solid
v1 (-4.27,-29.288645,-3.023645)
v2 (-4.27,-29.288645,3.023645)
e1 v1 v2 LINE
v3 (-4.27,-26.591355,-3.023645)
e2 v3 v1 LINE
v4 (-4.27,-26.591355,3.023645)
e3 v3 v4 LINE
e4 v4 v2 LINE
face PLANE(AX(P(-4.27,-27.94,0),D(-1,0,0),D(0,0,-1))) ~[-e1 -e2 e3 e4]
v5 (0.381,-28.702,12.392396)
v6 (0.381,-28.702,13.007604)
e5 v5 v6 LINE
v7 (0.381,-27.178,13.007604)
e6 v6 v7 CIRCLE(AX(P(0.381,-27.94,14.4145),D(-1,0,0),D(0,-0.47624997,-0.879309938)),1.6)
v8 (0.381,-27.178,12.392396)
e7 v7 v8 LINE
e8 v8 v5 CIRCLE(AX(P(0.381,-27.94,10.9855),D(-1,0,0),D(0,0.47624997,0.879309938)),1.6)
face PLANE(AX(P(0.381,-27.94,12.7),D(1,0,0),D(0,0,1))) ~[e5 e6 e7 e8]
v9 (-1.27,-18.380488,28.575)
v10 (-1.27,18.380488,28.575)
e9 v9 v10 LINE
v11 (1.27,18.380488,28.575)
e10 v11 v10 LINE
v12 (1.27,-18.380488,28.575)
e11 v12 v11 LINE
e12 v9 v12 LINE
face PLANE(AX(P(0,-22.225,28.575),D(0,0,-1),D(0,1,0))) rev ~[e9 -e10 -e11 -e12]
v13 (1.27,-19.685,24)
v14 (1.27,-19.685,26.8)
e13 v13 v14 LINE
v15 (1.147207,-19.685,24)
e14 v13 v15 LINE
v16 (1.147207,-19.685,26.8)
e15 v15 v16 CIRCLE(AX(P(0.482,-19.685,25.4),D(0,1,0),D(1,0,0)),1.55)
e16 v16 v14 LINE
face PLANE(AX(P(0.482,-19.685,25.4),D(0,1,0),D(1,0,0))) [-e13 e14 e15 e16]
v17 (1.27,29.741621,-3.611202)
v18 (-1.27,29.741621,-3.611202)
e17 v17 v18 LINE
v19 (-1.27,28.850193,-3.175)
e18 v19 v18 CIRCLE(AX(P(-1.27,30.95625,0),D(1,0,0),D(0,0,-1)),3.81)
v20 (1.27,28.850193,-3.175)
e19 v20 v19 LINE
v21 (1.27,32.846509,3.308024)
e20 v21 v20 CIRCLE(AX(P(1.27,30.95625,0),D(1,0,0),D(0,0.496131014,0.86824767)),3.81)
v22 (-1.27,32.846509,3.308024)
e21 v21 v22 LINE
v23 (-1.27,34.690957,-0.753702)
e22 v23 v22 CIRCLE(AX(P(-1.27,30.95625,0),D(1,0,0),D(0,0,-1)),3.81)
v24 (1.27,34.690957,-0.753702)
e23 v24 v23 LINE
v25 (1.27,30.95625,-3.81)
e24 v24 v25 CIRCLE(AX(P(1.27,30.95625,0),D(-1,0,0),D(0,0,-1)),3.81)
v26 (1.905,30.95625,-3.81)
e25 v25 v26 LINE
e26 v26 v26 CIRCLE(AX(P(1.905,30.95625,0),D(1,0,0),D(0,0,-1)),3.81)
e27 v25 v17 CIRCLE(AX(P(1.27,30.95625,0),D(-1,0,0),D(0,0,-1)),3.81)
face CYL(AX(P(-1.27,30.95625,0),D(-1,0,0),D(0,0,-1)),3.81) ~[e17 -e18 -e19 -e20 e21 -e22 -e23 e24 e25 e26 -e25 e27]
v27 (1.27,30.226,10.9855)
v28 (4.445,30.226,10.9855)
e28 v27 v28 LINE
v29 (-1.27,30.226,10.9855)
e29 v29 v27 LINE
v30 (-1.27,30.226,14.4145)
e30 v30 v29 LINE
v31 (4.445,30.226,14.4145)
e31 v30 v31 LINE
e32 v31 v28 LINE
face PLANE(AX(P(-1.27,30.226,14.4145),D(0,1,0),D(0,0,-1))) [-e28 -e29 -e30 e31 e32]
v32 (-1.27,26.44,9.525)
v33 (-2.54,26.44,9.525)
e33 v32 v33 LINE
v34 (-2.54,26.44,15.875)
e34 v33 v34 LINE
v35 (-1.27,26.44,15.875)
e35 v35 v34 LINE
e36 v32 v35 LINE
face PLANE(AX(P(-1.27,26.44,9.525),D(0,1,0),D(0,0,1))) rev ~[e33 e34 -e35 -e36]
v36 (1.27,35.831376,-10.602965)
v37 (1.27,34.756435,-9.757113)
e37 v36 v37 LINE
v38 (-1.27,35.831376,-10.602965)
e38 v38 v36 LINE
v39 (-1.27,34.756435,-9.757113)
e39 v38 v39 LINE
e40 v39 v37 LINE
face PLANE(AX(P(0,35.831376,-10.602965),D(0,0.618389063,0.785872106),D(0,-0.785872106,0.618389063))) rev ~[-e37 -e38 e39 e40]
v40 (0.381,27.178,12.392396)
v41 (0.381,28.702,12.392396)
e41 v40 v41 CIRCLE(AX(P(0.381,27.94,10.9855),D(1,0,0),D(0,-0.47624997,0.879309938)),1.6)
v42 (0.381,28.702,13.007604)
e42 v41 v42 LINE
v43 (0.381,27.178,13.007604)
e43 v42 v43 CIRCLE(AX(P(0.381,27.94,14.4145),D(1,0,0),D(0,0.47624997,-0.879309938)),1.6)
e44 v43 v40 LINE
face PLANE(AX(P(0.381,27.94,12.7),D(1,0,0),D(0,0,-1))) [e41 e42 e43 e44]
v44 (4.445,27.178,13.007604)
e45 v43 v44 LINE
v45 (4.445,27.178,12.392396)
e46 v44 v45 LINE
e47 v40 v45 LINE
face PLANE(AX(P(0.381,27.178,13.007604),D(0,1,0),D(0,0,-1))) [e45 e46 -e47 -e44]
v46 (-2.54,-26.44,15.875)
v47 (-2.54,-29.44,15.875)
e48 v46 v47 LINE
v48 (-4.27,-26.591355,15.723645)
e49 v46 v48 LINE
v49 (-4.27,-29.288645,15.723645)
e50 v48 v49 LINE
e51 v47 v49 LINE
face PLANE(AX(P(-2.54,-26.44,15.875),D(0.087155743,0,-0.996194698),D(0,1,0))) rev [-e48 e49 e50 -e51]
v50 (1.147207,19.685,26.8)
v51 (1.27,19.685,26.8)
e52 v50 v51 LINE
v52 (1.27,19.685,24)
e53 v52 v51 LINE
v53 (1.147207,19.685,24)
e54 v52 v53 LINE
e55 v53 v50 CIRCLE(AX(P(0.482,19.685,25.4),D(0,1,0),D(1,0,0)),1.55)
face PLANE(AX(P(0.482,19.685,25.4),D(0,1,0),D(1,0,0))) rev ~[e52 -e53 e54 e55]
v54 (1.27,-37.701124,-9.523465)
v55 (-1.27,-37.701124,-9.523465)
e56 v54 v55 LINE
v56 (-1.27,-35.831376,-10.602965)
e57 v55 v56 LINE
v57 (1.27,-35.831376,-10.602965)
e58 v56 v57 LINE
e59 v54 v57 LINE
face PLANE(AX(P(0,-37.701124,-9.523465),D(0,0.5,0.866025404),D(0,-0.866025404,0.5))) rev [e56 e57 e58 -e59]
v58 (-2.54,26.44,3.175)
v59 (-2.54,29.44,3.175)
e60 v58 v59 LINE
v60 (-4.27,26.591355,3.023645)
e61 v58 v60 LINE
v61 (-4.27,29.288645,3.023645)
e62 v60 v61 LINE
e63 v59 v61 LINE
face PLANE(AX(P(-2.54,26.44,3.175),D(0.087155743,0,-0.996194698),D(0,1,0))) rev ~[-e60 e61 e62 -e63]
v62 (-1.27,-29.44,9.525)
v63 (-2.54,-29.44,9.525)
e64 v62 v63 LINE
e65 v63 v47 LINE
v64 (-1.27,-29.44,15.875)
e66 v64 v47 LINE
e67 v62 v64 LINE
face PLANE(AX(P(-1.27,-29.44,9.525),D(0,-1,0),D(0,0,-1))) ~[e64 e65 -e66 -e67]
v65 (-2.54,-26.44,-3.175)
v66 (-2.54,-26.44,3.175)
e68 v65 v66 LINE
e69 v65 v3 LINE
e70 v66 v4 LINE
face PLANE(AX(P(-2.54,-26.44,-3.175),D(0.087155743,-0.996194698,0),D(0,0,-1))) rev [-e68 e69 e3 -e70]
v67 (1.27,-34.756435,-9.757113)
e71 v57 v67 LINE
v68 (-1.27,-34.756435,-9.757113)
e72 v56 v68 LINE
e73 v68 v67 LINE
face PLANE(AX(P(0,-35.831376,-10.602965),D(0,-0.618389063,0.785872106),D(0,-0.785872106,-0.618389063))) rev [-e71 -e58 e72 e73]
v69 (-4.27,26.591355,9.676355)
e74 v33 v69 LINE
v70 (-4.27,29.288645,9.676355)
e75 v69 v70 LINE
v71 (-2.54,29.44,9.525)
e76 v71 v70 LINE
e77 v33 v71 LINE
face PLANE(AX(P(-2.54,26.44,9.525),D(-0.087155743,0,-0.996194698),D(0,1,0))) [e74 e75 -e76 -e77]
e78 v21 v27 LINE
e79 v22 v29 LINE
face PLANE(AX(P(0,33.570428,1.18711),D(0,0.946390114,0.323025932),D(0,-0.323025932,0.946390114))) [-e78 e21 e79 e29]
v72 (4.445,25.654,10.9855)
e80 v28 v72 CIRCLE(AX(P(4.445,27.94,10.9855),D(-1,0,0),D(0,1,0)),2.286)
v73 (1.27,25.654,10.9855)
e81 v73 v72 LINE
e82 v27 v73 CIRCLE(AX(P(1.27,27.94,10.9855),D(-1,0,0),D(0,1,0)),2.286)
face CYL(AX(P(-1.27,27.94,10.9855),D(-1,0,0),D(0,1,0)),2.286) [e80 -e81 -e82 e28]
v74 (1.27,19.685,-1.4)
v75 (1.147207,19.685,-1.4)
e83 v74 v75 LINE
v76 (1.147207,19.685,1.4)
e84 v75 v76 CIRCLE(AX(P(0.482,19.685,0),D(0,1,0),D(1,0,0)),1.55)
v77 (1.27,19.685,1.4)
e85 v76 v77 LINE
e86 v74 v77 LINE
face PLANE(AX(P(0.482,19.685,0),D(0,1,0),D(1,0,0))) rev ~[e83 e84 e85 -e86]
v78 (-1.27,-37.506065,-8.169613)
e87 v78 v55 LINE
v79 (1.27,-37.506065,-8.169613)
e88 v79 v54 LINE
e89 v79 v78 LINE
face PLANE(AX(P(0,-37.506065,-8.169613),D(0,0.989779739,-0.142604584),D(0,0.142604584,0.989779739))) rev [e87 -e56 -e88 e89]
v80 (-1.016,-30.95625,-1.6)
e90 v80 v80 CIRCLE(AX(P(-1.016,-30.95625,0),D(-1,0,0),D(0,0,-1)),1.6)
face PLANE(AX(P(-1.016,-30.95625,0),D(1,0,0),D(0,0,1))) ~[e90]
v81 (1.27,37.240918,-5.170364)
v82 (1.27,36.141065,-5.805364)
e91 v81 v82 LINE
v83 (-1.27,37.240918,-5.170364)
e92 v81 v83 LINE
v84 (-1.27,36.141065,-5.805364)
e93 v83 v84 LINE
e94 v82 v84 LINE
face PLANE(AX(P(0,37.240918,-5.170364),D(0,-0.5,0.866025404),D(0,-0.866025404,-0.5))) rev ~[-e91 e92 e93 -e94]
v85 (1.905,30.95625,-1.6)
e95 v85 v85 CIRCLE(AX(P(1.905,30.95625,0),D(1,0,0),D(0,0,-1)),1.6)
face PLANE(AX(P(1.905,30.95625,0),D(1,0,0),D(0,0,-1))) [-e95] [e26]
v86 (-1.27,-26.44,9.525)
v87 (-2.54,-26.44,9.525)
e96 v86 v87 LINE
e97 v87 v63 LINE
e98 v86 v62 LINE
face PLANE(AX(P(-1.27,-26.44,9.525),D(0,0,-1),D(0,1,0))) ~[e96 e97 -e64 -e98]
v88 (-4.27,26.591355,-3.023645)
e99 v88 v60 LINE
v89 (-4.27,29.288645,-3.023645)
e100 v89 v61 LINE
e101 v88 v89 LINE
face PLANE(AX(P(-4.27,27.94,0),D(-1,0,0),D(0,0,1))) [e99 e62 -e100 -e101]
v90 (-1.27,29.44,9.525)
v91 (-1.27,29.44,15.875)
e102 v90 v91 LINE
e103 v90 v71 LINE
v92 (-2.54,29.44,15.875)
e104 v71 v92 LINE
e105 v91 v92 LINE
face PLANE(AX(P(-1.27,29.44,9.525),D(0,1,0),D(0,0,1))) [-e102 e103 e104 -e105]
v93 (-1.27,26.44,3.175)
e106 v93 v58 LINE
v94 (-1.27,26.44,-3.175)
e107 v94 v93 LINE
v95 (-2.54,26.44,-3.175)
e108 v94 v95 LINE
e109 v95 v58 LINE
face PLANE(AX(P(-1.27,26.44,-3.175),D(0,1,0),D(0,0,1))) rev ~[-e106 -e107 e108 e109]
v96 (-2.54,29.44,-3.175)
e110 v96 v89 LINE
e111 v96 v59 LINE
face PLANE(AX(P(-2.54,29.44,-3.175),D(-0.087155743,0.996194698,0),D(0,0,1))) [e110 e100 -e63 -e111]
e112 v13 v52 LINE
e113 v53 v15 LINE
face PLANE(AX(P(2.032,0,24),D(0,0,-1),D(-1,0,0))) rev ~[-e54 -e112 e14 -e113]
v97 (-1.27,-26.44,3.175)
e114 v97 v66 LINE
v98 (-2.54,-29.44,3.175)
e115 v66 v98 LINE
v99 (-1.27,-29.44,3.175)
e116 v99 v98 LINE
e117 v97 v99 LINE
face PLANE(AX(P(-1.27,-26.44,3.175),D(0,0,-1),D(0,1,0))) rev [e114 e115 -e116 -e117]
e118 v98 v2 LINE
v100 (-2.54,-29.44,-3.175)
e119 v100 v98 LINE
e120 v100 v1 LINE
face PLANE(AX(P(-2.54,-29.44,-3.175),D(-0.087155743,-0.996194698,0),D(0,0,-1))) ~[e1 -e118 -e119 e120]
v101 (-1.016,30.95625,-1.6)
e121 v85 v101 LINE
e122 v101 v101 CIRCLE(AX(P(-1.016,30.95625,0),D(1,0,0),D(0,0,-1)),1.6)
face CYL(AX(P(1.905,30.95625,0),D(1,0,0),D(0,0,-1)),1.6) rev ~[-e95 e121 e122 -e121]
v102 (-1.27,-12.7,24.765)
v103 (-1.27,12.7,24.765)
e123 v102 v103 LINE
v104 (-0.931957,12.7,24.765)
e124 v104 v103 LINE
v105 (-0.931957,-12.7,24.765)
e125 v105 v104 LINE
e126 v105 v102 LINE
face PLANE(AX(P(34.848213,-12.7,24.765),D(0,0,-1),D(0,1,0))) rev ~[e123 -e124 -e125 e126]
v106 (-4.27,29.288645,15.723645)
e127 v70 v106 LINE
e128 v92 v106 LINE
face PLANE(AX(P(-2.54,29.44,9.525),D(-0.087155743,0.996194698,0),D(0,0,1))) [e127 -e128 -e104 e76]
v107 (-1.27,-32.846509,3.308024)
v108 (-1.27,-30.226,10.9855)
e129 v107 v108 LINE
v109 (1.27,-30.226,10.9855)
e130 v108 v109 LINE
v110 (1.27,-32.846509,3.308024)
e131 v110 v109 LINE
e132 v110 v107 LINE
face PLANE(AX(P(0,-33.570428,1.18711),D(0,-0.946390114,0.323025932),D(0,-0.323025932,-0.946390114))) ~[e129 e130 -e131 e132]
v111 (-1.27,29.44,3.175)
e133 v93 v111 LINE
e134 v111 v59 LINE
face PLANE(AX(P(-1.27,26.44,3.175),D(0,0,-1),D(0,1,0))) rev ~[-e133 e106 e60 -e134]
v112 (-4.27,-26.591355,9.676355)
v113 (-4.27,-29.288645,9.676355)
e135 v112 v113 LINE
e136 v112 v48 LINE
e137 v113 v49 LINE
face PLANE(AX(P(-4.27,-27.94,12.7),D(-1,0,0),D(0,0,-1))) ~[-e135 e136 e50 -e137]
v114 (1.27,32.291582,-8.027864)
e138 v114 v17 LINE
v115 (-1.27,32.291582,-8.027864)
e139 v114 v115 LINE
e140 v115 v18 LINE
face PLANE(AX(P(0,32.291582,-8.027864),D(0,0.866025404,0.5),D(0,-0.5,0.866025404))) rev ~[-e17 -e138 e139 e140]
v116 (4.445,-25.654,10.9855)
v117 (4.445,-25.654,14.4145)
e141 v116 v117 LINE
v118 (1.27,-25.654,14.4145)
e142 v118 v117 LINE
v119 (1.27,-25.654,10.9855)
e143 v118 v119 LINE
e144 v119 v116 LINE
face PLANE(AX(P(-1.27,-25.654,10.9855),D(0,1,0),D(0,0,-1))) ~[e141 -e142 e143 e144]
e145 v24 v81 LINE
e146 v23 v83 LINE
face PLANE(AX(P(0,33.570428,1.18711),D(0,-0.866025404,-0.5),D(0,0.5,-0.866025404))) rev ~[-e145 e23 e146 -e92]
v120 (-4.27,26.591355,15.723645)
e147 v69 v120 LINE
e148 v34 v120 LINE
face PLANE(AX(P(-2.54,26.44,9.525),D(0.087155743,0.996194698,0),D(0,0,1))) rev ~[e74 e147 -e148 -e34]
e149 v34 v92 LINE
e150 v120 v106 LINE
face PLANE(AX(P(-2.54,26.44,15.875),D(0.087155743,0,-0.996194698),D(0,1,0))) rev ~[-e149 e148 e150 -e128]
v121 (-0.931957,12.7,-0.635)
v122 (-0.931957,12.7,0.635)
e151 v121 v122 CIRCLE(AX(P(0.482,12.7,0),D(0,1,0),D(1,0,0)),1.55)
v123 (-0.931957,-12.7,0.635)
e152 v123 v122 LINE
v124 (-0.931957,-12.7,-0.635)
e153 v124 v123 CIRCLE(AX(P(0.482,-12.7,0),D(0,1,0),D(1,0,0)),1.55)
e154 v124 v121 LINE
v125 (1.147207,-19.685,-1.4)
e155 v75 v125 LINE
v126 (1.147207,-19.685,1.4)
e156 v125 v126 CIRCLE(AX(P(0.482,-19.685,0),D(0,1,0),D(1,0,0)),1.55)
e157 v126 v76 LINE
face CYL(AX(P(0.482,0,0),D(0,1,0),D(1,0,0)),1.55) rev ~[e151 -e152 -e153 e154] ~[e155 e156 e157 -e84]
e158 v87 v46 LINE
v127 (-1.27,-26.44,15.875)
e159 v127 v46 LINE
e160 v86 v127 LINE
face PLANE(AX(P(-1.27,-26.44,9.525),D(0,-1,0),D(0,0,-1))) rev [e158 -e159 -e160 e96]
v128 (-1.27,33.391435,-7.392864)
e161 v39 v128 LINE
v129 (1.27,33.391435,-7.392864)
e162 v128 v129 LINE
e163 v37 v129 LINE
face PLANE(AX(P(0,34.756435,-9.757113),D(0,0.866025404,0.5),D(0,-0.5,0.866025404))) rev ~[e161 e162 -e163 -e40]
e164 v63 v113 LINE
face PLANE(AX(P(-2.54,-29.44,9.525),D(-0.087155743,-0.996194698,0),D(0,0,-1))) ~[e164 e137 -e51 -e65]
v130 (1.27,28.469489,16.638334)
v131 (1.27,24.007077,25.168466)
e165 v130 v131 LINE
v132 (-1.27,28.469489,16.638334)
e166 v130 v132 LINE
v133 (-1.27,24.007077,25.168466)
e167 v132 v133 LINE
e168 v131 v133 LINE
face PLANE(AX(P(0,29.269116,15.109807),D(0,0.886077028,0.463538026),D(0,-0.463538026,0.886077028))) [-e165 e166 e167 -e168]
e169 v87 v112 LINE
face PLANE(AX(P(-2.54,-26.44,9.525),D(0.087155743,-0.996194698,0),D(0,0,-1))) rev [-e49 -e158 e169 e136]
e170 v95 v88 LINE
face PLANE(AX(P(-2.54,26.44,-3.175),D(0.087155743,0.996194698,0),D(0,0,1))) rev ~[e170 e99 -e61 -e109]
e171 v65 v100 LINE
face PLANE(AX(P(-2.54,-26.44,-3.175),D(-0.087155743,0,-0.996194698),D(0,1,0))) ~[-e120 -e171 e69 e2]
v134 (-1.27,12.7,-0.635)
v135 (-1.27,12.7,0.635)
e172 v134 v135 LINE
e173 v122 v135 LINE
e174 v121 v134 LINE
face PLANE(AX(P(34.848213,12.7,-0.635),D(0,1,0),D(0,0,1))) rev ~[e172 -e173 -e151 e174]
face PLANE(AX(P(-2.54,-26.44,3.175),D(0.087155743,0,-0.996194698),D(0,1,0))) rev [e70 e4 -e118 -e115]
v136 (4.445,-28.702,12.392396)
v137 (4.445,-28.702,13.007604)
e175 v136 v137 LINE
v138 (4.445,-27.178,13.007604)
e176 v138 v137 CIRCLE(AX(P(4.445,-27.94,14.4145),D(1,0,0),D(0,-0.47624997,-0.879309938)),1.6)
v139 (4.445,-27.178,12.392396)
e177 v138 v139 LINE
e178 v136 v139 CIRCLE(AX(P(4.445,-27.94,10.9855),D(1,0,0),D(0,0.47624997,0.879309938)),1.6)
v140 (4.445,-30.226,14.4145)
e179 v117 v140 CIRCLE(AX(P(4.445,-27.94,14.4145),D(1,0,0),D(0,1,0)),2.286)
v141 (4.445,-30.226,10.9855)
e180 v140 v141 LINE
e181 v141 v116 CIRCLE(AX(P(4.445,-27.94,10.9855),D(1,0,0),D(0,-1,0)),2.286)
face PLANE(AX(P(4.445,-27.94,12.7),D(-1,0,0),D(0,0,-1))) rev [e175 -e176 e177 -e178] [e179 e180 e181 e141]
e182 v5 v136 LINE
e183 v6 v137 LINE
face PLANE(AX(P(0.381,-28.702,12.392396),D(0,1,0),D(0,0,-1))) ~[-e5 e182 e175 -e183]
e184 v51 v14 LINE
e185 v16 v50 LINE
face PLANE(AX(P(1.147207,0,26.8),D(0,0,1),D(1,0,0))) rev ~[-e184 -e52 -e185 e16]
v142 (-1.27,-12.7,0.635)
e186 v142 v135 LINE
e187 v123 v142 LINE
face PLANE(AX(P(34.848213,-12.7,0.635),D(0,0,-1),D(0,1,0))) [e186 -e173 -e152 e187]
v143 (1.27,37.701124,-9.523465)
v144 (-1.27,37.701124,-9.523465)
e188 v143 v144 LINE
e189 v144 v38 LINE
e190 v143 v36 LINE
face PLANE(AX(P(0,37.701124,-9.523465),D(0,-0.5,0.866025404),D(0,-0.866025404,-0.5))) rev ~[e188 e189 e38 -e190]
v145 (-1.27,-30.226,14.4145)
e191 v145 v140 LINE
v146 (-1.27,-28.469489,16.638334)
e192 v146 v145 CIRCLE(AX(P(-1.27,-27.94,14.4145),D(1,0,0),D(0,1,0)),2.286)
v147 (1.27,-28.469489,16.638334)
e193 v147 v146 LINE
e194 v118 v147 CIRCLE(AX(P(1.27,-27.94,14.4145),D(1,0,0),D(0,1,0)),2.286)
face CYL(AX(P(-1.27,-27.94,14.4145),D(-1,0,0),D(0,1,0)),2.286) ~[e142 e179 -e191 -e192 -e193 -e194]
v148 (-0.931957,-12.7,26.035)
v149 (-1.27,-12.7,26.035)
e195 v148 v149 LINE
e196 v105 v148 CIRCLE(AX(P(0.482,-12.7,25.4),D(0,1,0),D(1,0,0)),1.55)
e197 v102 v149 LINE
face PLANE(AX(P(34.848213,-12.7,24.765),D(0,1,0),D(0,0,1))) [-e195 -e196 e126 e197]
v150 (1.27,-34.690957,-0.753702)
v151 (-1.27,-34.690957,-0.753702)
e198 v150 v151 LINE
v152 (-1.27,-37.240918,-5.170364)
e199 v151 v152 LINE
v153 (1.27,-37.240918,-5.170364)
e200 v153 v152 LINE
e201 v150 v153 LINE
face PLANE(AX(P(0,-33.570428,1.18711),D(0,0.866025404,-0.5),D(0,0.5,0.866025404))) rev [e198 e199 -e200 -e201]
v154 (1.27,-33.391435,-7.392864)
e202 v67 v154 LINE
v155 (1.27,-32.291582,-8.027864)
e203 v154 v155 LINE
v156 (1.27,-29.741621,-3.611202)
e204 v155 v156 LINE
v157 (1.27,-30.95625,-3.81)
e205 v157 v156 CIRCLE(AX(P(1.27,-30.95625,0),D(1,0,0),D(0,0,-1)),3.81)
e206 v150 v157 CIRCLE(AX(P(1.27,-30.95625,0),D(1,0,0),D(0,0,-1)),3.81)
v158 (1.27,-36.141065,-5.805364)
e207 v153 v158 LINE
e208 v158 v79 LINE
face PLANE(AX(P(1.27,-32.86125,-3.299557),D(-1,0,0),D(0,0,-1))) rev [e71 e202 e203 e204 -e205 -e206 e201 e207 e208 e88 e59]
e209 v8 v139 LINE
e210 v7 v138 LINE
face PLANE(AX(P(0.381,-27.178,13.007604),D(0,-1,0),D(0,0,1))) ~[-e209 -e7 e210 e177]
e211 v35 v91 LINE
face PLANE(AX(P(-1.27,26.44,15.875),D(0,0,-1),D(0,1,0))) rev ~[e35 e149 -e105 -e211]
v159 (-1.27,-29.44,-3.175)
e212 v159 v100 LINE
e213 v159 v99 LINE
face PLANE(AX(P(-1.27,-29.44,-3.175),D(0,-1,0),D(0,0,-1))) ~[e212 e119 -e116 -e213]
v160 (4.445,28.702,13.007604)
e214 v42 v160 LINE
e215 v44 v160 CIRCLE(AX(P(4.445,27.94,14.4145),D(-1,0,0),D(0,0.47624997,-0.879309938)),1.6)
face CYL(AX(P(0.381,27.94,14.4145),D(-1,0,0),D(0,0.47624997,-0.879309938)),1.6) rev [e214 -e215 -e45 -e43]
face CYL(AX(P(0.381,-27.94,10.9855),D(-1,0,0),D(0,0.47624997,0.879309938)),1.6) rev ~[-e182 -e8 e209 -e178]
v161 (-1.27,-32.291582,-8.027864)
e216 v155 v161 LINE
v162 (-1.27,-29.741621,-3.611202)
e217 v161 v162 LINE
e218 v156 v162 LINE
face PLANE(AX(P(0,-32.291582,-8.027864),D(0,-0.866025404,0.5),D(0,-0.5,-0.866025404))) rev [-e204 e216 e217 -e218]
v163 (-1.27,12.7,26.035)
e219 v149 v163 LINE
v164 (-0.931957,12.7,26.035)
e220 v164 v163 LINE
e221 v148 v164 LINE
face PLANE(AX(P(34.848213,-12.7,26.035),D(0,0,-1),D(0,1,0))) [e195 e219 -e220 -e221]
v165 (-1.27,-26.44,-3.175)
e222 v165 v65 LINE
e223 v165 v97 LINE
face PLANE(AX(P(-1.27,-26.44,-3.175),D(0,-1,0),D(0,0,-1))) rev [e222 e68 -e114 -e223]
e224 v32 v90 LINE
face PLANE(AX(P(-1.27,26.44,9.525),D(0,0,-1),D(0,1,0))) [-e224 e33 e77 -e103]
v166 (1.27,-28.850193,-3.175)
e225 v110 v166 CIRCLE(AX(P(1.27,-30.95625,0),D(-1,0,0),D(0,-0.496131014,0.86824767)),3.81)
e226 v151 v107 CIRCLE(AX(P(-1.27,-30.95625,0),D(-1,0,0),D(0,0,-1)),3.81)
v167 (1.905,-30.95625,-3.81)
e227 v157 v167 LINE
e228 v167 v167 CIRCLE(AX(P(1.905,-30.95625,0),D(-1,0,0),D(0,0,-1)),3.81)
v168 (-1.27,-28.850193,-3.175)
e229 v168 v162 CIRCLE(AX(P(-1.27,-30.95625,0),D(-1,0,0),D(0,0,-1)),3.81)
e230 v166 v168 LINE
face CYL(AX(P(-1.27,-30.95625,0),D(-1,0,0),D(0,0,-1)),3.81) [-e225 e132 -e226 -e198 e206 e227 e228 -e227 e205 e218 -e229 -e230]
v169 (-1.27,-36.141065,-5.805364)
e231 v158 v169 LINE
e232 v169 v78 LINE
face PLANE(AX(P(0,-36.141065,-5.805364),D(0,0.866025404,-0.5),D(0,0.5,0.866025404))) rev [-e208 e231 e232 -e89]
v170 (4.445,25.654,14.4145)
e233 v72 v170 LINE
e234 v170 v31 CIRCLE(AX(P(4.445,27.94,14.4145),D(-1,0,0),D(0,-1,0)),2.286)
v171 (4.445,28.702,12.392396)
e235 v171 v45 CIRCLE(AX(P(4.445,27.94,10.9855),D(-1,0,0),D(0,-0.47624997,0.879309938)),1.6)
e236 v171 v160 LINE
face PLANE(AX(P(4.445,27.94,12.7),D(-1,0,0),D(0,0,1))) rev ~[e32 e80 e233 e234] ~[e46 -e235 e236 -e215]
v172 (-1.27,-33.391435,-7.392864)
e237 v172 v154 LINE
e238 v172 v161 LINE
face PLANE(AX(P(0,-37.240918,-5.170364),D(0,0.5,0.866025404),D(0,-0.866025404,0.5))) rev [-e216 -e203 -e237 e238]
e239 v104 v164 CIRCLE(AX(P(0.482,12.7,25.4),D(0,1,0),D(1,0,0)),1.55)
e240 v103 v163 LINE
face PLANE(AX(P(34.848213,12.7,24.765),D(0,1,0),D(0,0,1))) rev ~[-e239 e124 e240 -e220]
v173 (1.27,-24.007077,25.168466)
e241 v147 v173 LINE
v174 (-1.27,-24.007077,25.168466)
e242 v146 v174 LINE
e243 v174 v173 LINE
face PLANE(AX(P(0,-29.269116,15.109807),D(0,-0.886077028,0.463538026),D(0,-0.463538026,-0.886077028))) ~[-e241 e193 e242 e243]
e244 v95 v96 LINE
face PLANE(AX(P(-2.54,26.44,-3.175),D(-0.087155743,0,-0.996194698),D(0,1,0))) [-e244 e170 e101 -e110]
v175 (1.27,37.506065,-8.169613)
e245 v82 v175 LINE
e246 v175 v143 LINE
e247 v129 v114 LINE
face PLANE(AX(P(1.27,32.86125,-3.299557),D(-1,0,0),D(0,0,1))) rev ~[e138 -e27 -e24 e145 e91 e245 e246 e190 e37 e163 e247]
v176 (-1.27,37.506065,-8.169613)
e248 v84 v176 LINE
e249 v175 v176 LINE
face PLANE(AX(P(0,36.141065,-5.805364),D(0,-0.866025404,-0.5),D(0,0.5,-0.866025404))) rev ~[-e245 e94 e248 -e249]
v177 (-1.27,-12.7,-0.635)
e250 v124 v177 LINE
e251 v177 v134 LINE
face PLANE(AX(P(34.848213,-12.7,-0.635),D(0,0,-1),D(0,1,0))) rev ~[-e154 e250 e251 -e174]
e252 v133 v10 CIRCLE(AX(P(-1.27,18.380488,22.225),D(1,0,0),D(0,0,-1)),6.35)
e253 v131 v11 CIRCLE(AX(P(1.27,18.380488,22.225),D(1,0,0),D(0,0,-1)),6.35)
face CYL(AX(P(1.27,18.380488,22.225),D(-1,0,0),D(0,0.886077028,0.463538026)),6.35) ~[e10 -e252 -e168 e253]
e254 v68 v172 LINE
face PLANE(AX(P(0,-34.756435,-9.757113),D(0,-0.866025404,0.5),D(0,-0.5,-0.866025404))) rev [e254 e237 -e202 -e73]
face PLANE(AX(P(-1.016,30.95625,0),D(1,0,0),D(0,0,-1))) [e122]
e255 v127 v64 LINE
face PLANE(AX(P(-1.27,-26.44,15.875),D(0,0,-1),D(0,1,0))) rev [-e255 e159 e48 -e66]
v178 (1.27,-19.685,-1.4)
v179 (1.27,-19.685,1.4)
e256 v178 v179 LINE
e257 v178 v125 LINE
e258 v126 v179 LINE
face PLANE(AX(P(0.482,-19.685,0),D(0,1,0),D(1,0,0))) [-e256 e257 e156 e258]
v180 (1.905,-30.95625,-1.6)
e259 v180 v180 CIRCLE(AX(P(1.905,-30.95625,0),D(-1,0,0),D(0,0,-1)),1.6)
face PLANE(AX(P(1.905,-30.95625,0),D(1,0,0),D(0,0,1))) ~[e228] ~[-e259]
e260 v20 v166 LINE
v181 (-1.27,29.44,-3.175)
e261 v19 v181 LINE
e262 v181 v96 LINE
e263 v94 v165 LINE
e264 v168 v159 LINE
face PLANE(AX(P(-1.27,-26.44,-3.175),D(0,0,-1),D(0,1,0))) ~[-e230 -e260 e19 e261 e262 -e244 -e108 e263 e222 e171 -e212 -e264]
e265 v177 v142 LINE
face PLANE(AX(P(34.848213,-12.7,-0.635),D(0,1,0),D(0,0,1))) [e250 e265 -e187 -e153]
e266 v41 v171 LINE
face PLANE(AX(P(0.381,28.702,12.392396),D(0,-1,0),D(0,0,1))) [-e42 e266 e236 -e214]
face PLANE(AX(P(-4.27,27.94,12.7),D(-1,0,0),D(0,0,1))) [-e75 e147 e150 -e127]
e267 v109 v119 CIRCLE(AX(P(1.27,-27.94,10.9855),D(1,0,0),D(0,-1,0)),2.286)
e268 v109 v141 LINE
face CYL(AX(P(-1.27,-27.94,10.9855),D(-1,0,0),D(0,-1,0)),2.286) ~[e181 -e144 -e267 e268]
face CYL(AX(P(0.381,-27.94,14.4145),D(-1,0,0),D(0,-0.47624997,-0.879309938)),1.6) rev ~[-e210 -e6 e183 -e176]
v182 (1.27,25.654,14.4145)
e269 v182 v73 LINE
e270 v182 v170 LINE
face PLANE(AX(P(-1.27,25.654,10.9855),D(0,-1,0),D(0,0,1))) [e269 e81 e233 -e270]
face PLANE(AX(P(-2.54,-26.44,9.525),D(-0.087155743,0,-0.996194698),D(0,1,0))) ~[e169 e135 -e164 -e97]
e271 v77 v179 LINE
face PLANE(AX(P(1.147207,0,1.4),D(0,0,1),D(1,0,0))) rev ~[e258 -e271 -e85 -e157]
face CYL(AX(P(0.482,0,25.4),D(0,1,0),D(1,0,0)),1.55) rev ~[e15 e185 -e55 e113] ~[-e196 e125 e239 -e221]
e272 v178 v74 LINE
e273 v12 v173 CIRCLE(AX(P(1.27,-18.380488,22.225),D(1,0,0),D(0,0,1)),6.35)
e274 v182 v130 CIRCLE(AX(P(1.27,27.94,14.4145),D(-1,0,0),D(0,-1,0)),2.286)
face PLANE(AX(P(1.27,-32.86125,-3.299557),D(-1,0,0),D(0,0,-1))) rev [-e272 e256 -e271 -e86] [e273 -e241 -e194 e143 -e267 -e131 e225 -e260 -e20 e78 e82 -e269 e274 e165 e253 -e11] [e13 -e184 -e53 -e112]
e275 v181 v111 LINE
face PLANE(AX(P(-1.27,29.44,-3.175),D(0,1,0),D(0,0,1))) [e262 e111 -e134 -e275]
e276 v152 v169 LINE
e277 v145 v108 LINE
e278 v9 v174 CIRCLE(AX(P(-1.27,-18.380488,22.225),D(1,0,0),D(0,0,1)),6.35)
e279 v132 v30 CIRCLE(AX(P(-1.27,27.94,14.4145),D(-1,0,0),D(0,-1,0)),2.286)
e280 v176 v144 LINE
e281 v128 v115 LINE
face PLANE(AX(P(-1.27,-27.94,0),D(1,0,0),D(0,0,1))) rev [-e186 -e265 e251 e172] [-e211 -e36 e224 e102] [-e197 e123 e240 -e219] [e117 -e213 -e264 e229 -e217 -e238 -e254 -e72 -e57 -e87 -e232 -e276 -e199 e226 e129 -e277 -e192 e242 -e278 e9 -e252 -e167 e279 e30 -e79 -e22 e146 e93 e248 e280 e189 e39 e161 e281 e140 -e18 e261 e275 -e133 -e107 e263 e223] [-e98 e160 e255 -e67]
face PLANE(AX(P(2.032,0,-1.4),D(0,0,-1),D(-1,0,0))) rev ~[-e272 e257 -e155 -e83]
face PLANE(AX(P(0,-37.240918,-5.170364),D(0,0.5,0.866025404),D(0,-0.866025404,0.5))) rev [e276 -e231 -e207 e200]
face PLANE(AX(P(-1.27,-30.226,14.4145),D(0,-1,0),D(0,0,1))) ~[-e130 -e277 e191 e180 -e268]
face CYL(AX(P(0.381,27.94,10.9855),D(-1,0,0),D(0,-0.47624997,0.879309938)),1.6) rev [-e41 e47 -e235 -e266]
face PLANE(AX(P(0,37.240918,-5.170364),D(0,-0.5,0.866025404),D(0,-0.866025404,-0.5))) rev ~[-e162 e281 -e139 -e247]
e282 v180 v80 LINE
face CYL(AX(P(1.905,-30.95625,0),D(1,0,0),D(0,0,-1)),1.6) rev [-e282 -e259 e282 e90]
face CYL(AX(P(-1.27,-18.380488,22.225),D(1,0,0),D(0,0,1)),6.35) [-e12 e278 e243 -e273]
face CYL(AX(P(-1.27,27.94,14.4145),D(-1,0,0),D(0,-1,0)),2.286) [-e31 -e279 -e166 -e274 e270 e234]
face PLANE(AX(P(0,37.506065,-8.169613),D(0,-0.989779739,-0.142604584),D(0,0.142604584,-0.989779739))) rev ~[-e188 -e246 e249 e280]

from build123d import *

# Parameters (mm, degrees)
DOWELSUPPORT_DEPTH          = 1.905
DOWELSUPPORT_DEPTH_BACK     = 1.27
SKETCH3_R                   = 3.81
SKETCH5_W                   = 6.35
SKETCH5_H                   = 44.45
SLIDERDOWELSUPPORT_DEPTH    = 1.27
SKETCH17_R                  = 1.549999948
CUT_EXTRUDE1_DEPTH          = 19.685
CUT_EXTRUDE2_DEPTH          = 36.118212712
CUT_EXTRUDE2_DEPTH_BACK     = 36.118212712
SKETCH18_W                  = 1.27
SKETCH18_H                  = 25.4
LPATTERN1_COUNT             = 2
LPATTERN1_PITCH             = 25.4
LATERALSUPPORT_DEPTH        = 1.27
SKETCH8_W                   = 6.35
SKETCH8_H                   = 3
TABSUPPORT_DEPTH            = 1.27
STRINGDOWELSUPPORT_START    = -1.27
STRINGDOWELSUPPORT_DEPTH    = 5.715
INTERSUPPORT_DEPTH          = 1.27
SKETCH10_W                  = 6.35
SKETCH10_H                  = 3
TABBASE_DEPTH               = 1.27
SKETCH12_W                  = 6.35
SKETCH12_H                  = 3
TABDRAFT_DEPTH              = 1.73
TABDRAFT_DRAFT              = 5
TABDRAFT_PROFILE_2_DEPTH    = 1.73
TABDRAFT_PROFILE_2_DRAFT    = 5
STRINGDOWELHOLES_DEPTH      = 48.707819409
STRINGDOWELHOLES_DEPTH_BACK = 1.524
SKETCH14_R                  = 1.600000102
PULLEYDOWELHOLE_DEPTH       = 2.921
FILLET1_R                   = 6.35


with BuildPart() as part:
    # Sketch3 → DowelSupport (new, two sides: drawn at the far end of the back side and taken through both)
    with BuildSketch(Plane(origin=(0, 0, 0), x_dir=(0, 0, -1), z_dir=(1, 0, 0)).offset(-DOWELSUPPORT_DEPTH_BACK)):
        with Locations((0, 30.95625)):
            Circle(SKETCH3_R)
    extrude(amount=DOWELSUPPORT_DEPTH + DOWELSUPPORT_DEPTH_BACK)

    # Sketch8 → TabSupport (add, symmetric)
    with BuildSketch(Plane(origin=(0, 0, 0), x_dir=(0, 0, -1), z_dir=(1, 0, 0))):
        with Locations((0, 27.94)):
            Rectangle(SKETCH8_W, SKETCH8_H)
        with Locations((-12.7, 27.94)):
            Rectangle(SKETCH8_W, SKETCH8_H)
    extrude(amount=TABSUPPORT_DEPTH, both=True)


with BuildPart() as body_2:
    # Sketch5 → SliderDowelSupport (new, symmetric)
    with BuildSketch(Plane(origin=(0, 0, 0), x_dir=(0, 0, -1), z_dir=(1, 0, 0))):
        Rectangle(SKETCH5_W, SKETCH5_H)
    extrude(amount=SLIDERDOWELSUPPORT_DEPTH, both=True)

    # Sketch17 → Cut-Extrude1 (cut, symmetric)
    with BuildSketch(Plane(origin=(0, 0, 0), x_dir=(1, 0, 0), z_dir=(0, 1, 0))):
        with Locations((0.482000052, 0)):
            Circle(SKETCH17_R)
        with BuildLine():
            Line((2.032, 0), (2.032, 1.399999994))
            Line((2.032, 1.399999994), (1.147206678, 1.399999994))
            ThreePointArc((1.147206678, 1.399999994), (1.792261491, 0.828078983), (2.032, 0))
        make_face()
        with BuildLine():
            Line((2.032, -1.399999994), (2.032, 0))
            ThreePointArc((2.032, 0), (1.792261491, -0.828078983), (1.147206678, -1.399999994))
            Line((1.147206678, -1.399999994), (2.032, -1.399999994))
        make_face()
    extrude(amount=CUT_EXTRUDE1_DEPTH, both=True, mode=Mode.SUBTRACT)

    # Sketch18 → Cut-Extrude2 (cut, two sides: drawn at the far end of the back side and taken through both)
    with BuildSketch(Plane.ZY.offset(1.27).offset(-CUT_EXTRUDE2_DEPTH_BACK)):
        Rectangle(SKETCH18_W, SKETCH18_H)
    extrude(amount=CUT_EXTRUDE2_DEPTH + CUT_EXTRUDE2_DEPTH_BACK, mode=Mode.SUBTRACT)


with BuildPart() as lpattern1_1:
    # LPattern1: pattern copy
    add(body_2.part.moved(Location(Vector(0, 0, 1) * (1 * LPATTERN1_PITCH))))


with BuildPart() as body_4:
    # Sketch6 → LateralSupport (new, symmetric)
    with BuildSketch(Plane(origin=(0, 0, 0), x_dir=(0, 0, -1), z_dir=(1, 0, 0))):
        Polygon((7.392863577, 33.391434671), (5.805363577, 36.141065329), (8.169612929, 37.506065329), (9.523465192, 37.701124423), (10.602965192, 35.831375577), (9.757112929, 34.756434671), align=None)
    extrude(amount=LATERALSUPPORT_DEPTH, both=True)


with BuildPart() as tabsupport_piece_1:
    # of the separate pieces the step leaves, piece 1, a body of its own (tabsupport_pieces)
    add(part.part.solids().sort_by_distance((0, 30.95625, -3.81))[0])


with BuildPart() as tabsupport_piece_2:
    # of the separate pieces the step leaves, piece 2, a body of its own (tabsupport_pieces)
    add(part.part.solids().sort_by_distance((-1.27, 26.44, 9.525))[0])

    # Sketch15 → StringDowelSupport (add)
    with BuildSketch(Plane(origin=(0, 0, 0), x_dir=(0, 0, -1), z_dir=(1, 0, 0)).offset(STRINGDOWELSUPPORT_START)):
        with BuildLine():
            Line((-14.4145, 30.226), (-10.9855, 30.226))
            ThreePointArc((-10.9855, 30.226), (-8.6995, 27.94), (-10.9855, 25.654))
            Line((-10.9855, 25.654), (-14.4145, 25.654))
            ThreePointArc((-14.4145, 25.654), (-16.7005, 27.94), (-14.4145, 30.226))
        make_face()
    extrude(amount=STRINGDOWELSUPPORT_DEPTH)


with BuildPart() as body_2_1:
    add(body_2.part)

    add(lpattern1_1.part)  # InterSupport merges LPattern1_1

    add(body_4.part)  # InterSupport merges body 4

    add(tabsupport_piece_1.part)  # InterSupport merges TabSupport piece 1

    add(tabsupport_piece_2.part)  # InterSupport merges TabSupport piece 2
    # Sketch7 → InterSupport (add, symmetric)
    with BuildSketch(Plane(origin=(0, 0, 0), x_dir=(0, 0, -1), z_dir=(1, 0, 0))):
        Polygon((5.170363577, 37.240917591), (8.027863577, 32.291582409), (1.42875, 28.481582409), (-1.42875, 33.430917591), align=None)
        Polygon((-3.175, 15.875), (-3.175, 22.225), (3.175, 22.225), (3.175, 26.44), (0.923046602, 28.251940251), (-0.923046602, 33.660559749), (-10.9855, 30.226), (-14.4145, 30.226), (-15.109807039, 29.269115541), (-28.575, 22.225), (-22.225, 22.225), (-22.225, 0), (-3.175, 0), align=None)
    extrude(amount=INTERSUPPORT_DEPTH, both=True)

    # Sketch10 → TabBase (add)
    with BuildSketch(Plane.ZY.offset(1.27)):
        with Locations((0, 27.94)):
            Rectangle(SKETCH10_W, SKETCH10_H)
        with Locations((12.7, 27.94)):
            Rectangle(SKETCH10_W, SKETCH10_H)
    extrude(amount=TABBASE_DEPTH)


with BuildPart() as tabdraft_tool:
    # Sketch12 → TabDraft (with draft: the straight prism first)
    with BuildSketch(Plane.ZY.offset(2.54)):
        with Locations((0, 27.94)):
            Rectangle(SKETCH12_W, SKETCH12_H)
    extrude(amount=TABDRAFT_DEPTH)
    # TabDraft: the draft: its side faces are tilted about the plane it starts from
    tabdraft_sides = [tabdraft_tool.faces().sort_by_distance(p)[0] for p in [
        (-3.405, 27.94, 3.175),
        (-3.405, 29.44, 0),
        (-3.405, 27.94, -3.175),
        (-3.405, 26.44, 0),
    ]]
    draft(tabdraft_sides, Plane.ZY.offset(2.54), TABDRAFT_DRAFT)


with BuildPart() as body_2_2:
    add(body_2_1.part)

    # TabDraft: add tabdraft_tool
    add(tabdraft_tool.part)


with BuildPart() as tabdraft_profile_2_tool:
    # Sketch12 → TabDraft profile 2 (with draft: the straight prism first)
    with BuildSketch(Plane.ZY.offset(2.54)):
        with Locations((12.7, 27.94)):
            Rectangle(SKETCH12_W, SKETCH12_H)
    extrude(amount=TABDRAFT_PROFILE_2_DEPTH)
    # TabDraft profile 2: the draft: its side faces are tilted about the plane it starts from
    tabdraft_profile_2_sides = [tabdraft_profile_2_tool.faces().sort_by_distance(p)[0] for p in [
        (-3.405, 27.94, 9.525),
        (-3.405, 26.44, 12.7),
        (-3.405, 27.94, 15.875),
        (-3.405, 29.44, 12.7),
    ]]
    draft(tabdraft_profile_2_sides, Plane.ZY.offset(2.54), TABDRAFT_PROFILE_2_DRAFT)


with BuildPart() as body_2_3:
    add(body_2_2.part)

    # TabDraft profile 2: add tabdraft_profile_2_tool
    add(tabdraft_profile_2_tool.part)

    # Sketch16 → StringDowelHoles (cut, two sides: drawn at the far end of the back side and taken through both)
    with BuildSketch(Plane(origin=(1.905, 0, 0), x_dir=(0, 0, -1), z_dir=(1, 0, 0)).offset(-STRINGDOWELHOLES_DEPTH_BACK)):
        with BuildLine():
            Line((-13.00760401, 27.178), (-12.39239599, 27.178))
            ThreePointArc((-12.39239599, 27.178), (-9.385499898, 27.94), (-12.39239599, 28.702))
            Line((-12.39239599, 28.702), (-13.00760401, 28.702))
            ThreePointArc((-13.00760401, 28.702), (-16.014500102, 27.94), (-13.00760401, 27.178))
        make_face()
    extrude(amount=STRINGDOWELHOLES_DEPTH + STRINGDOWELHOLES_DEPTH_BACK, mode=Mode.SUBTRACT)

    # Sketch14 → PulleyDowelHole (cut)
    with BuildSketch(Plane(origin=(1.905, 0, 0), x_dir=(0, 0, -1), z_dir=(1, 0, 0))):
        with Locations((0, 30.95625)):
            Circle(SKETCH14_R)
    extrude(amount=-PULLEYDOWELHOLE_DEPTH, mode=Mode.SUBTRACT)

    # Mirror1: body 2 across plane


with BuildPart() as body_2_4:
    add(body_2_3.part)
    add(body_2_3.part.mirror(Plane.ZX))

    # Fillet1
    fillet1_edges = [body_2_4.edges().sort_by_distance(p)[0] for p in [
        (0, -22.225, 28.575),
        (0, 22.225, 28.575),
    ]]
    fillet(fillet1_edges, radius=FILLET1_R)


solid = body_2_4.part
